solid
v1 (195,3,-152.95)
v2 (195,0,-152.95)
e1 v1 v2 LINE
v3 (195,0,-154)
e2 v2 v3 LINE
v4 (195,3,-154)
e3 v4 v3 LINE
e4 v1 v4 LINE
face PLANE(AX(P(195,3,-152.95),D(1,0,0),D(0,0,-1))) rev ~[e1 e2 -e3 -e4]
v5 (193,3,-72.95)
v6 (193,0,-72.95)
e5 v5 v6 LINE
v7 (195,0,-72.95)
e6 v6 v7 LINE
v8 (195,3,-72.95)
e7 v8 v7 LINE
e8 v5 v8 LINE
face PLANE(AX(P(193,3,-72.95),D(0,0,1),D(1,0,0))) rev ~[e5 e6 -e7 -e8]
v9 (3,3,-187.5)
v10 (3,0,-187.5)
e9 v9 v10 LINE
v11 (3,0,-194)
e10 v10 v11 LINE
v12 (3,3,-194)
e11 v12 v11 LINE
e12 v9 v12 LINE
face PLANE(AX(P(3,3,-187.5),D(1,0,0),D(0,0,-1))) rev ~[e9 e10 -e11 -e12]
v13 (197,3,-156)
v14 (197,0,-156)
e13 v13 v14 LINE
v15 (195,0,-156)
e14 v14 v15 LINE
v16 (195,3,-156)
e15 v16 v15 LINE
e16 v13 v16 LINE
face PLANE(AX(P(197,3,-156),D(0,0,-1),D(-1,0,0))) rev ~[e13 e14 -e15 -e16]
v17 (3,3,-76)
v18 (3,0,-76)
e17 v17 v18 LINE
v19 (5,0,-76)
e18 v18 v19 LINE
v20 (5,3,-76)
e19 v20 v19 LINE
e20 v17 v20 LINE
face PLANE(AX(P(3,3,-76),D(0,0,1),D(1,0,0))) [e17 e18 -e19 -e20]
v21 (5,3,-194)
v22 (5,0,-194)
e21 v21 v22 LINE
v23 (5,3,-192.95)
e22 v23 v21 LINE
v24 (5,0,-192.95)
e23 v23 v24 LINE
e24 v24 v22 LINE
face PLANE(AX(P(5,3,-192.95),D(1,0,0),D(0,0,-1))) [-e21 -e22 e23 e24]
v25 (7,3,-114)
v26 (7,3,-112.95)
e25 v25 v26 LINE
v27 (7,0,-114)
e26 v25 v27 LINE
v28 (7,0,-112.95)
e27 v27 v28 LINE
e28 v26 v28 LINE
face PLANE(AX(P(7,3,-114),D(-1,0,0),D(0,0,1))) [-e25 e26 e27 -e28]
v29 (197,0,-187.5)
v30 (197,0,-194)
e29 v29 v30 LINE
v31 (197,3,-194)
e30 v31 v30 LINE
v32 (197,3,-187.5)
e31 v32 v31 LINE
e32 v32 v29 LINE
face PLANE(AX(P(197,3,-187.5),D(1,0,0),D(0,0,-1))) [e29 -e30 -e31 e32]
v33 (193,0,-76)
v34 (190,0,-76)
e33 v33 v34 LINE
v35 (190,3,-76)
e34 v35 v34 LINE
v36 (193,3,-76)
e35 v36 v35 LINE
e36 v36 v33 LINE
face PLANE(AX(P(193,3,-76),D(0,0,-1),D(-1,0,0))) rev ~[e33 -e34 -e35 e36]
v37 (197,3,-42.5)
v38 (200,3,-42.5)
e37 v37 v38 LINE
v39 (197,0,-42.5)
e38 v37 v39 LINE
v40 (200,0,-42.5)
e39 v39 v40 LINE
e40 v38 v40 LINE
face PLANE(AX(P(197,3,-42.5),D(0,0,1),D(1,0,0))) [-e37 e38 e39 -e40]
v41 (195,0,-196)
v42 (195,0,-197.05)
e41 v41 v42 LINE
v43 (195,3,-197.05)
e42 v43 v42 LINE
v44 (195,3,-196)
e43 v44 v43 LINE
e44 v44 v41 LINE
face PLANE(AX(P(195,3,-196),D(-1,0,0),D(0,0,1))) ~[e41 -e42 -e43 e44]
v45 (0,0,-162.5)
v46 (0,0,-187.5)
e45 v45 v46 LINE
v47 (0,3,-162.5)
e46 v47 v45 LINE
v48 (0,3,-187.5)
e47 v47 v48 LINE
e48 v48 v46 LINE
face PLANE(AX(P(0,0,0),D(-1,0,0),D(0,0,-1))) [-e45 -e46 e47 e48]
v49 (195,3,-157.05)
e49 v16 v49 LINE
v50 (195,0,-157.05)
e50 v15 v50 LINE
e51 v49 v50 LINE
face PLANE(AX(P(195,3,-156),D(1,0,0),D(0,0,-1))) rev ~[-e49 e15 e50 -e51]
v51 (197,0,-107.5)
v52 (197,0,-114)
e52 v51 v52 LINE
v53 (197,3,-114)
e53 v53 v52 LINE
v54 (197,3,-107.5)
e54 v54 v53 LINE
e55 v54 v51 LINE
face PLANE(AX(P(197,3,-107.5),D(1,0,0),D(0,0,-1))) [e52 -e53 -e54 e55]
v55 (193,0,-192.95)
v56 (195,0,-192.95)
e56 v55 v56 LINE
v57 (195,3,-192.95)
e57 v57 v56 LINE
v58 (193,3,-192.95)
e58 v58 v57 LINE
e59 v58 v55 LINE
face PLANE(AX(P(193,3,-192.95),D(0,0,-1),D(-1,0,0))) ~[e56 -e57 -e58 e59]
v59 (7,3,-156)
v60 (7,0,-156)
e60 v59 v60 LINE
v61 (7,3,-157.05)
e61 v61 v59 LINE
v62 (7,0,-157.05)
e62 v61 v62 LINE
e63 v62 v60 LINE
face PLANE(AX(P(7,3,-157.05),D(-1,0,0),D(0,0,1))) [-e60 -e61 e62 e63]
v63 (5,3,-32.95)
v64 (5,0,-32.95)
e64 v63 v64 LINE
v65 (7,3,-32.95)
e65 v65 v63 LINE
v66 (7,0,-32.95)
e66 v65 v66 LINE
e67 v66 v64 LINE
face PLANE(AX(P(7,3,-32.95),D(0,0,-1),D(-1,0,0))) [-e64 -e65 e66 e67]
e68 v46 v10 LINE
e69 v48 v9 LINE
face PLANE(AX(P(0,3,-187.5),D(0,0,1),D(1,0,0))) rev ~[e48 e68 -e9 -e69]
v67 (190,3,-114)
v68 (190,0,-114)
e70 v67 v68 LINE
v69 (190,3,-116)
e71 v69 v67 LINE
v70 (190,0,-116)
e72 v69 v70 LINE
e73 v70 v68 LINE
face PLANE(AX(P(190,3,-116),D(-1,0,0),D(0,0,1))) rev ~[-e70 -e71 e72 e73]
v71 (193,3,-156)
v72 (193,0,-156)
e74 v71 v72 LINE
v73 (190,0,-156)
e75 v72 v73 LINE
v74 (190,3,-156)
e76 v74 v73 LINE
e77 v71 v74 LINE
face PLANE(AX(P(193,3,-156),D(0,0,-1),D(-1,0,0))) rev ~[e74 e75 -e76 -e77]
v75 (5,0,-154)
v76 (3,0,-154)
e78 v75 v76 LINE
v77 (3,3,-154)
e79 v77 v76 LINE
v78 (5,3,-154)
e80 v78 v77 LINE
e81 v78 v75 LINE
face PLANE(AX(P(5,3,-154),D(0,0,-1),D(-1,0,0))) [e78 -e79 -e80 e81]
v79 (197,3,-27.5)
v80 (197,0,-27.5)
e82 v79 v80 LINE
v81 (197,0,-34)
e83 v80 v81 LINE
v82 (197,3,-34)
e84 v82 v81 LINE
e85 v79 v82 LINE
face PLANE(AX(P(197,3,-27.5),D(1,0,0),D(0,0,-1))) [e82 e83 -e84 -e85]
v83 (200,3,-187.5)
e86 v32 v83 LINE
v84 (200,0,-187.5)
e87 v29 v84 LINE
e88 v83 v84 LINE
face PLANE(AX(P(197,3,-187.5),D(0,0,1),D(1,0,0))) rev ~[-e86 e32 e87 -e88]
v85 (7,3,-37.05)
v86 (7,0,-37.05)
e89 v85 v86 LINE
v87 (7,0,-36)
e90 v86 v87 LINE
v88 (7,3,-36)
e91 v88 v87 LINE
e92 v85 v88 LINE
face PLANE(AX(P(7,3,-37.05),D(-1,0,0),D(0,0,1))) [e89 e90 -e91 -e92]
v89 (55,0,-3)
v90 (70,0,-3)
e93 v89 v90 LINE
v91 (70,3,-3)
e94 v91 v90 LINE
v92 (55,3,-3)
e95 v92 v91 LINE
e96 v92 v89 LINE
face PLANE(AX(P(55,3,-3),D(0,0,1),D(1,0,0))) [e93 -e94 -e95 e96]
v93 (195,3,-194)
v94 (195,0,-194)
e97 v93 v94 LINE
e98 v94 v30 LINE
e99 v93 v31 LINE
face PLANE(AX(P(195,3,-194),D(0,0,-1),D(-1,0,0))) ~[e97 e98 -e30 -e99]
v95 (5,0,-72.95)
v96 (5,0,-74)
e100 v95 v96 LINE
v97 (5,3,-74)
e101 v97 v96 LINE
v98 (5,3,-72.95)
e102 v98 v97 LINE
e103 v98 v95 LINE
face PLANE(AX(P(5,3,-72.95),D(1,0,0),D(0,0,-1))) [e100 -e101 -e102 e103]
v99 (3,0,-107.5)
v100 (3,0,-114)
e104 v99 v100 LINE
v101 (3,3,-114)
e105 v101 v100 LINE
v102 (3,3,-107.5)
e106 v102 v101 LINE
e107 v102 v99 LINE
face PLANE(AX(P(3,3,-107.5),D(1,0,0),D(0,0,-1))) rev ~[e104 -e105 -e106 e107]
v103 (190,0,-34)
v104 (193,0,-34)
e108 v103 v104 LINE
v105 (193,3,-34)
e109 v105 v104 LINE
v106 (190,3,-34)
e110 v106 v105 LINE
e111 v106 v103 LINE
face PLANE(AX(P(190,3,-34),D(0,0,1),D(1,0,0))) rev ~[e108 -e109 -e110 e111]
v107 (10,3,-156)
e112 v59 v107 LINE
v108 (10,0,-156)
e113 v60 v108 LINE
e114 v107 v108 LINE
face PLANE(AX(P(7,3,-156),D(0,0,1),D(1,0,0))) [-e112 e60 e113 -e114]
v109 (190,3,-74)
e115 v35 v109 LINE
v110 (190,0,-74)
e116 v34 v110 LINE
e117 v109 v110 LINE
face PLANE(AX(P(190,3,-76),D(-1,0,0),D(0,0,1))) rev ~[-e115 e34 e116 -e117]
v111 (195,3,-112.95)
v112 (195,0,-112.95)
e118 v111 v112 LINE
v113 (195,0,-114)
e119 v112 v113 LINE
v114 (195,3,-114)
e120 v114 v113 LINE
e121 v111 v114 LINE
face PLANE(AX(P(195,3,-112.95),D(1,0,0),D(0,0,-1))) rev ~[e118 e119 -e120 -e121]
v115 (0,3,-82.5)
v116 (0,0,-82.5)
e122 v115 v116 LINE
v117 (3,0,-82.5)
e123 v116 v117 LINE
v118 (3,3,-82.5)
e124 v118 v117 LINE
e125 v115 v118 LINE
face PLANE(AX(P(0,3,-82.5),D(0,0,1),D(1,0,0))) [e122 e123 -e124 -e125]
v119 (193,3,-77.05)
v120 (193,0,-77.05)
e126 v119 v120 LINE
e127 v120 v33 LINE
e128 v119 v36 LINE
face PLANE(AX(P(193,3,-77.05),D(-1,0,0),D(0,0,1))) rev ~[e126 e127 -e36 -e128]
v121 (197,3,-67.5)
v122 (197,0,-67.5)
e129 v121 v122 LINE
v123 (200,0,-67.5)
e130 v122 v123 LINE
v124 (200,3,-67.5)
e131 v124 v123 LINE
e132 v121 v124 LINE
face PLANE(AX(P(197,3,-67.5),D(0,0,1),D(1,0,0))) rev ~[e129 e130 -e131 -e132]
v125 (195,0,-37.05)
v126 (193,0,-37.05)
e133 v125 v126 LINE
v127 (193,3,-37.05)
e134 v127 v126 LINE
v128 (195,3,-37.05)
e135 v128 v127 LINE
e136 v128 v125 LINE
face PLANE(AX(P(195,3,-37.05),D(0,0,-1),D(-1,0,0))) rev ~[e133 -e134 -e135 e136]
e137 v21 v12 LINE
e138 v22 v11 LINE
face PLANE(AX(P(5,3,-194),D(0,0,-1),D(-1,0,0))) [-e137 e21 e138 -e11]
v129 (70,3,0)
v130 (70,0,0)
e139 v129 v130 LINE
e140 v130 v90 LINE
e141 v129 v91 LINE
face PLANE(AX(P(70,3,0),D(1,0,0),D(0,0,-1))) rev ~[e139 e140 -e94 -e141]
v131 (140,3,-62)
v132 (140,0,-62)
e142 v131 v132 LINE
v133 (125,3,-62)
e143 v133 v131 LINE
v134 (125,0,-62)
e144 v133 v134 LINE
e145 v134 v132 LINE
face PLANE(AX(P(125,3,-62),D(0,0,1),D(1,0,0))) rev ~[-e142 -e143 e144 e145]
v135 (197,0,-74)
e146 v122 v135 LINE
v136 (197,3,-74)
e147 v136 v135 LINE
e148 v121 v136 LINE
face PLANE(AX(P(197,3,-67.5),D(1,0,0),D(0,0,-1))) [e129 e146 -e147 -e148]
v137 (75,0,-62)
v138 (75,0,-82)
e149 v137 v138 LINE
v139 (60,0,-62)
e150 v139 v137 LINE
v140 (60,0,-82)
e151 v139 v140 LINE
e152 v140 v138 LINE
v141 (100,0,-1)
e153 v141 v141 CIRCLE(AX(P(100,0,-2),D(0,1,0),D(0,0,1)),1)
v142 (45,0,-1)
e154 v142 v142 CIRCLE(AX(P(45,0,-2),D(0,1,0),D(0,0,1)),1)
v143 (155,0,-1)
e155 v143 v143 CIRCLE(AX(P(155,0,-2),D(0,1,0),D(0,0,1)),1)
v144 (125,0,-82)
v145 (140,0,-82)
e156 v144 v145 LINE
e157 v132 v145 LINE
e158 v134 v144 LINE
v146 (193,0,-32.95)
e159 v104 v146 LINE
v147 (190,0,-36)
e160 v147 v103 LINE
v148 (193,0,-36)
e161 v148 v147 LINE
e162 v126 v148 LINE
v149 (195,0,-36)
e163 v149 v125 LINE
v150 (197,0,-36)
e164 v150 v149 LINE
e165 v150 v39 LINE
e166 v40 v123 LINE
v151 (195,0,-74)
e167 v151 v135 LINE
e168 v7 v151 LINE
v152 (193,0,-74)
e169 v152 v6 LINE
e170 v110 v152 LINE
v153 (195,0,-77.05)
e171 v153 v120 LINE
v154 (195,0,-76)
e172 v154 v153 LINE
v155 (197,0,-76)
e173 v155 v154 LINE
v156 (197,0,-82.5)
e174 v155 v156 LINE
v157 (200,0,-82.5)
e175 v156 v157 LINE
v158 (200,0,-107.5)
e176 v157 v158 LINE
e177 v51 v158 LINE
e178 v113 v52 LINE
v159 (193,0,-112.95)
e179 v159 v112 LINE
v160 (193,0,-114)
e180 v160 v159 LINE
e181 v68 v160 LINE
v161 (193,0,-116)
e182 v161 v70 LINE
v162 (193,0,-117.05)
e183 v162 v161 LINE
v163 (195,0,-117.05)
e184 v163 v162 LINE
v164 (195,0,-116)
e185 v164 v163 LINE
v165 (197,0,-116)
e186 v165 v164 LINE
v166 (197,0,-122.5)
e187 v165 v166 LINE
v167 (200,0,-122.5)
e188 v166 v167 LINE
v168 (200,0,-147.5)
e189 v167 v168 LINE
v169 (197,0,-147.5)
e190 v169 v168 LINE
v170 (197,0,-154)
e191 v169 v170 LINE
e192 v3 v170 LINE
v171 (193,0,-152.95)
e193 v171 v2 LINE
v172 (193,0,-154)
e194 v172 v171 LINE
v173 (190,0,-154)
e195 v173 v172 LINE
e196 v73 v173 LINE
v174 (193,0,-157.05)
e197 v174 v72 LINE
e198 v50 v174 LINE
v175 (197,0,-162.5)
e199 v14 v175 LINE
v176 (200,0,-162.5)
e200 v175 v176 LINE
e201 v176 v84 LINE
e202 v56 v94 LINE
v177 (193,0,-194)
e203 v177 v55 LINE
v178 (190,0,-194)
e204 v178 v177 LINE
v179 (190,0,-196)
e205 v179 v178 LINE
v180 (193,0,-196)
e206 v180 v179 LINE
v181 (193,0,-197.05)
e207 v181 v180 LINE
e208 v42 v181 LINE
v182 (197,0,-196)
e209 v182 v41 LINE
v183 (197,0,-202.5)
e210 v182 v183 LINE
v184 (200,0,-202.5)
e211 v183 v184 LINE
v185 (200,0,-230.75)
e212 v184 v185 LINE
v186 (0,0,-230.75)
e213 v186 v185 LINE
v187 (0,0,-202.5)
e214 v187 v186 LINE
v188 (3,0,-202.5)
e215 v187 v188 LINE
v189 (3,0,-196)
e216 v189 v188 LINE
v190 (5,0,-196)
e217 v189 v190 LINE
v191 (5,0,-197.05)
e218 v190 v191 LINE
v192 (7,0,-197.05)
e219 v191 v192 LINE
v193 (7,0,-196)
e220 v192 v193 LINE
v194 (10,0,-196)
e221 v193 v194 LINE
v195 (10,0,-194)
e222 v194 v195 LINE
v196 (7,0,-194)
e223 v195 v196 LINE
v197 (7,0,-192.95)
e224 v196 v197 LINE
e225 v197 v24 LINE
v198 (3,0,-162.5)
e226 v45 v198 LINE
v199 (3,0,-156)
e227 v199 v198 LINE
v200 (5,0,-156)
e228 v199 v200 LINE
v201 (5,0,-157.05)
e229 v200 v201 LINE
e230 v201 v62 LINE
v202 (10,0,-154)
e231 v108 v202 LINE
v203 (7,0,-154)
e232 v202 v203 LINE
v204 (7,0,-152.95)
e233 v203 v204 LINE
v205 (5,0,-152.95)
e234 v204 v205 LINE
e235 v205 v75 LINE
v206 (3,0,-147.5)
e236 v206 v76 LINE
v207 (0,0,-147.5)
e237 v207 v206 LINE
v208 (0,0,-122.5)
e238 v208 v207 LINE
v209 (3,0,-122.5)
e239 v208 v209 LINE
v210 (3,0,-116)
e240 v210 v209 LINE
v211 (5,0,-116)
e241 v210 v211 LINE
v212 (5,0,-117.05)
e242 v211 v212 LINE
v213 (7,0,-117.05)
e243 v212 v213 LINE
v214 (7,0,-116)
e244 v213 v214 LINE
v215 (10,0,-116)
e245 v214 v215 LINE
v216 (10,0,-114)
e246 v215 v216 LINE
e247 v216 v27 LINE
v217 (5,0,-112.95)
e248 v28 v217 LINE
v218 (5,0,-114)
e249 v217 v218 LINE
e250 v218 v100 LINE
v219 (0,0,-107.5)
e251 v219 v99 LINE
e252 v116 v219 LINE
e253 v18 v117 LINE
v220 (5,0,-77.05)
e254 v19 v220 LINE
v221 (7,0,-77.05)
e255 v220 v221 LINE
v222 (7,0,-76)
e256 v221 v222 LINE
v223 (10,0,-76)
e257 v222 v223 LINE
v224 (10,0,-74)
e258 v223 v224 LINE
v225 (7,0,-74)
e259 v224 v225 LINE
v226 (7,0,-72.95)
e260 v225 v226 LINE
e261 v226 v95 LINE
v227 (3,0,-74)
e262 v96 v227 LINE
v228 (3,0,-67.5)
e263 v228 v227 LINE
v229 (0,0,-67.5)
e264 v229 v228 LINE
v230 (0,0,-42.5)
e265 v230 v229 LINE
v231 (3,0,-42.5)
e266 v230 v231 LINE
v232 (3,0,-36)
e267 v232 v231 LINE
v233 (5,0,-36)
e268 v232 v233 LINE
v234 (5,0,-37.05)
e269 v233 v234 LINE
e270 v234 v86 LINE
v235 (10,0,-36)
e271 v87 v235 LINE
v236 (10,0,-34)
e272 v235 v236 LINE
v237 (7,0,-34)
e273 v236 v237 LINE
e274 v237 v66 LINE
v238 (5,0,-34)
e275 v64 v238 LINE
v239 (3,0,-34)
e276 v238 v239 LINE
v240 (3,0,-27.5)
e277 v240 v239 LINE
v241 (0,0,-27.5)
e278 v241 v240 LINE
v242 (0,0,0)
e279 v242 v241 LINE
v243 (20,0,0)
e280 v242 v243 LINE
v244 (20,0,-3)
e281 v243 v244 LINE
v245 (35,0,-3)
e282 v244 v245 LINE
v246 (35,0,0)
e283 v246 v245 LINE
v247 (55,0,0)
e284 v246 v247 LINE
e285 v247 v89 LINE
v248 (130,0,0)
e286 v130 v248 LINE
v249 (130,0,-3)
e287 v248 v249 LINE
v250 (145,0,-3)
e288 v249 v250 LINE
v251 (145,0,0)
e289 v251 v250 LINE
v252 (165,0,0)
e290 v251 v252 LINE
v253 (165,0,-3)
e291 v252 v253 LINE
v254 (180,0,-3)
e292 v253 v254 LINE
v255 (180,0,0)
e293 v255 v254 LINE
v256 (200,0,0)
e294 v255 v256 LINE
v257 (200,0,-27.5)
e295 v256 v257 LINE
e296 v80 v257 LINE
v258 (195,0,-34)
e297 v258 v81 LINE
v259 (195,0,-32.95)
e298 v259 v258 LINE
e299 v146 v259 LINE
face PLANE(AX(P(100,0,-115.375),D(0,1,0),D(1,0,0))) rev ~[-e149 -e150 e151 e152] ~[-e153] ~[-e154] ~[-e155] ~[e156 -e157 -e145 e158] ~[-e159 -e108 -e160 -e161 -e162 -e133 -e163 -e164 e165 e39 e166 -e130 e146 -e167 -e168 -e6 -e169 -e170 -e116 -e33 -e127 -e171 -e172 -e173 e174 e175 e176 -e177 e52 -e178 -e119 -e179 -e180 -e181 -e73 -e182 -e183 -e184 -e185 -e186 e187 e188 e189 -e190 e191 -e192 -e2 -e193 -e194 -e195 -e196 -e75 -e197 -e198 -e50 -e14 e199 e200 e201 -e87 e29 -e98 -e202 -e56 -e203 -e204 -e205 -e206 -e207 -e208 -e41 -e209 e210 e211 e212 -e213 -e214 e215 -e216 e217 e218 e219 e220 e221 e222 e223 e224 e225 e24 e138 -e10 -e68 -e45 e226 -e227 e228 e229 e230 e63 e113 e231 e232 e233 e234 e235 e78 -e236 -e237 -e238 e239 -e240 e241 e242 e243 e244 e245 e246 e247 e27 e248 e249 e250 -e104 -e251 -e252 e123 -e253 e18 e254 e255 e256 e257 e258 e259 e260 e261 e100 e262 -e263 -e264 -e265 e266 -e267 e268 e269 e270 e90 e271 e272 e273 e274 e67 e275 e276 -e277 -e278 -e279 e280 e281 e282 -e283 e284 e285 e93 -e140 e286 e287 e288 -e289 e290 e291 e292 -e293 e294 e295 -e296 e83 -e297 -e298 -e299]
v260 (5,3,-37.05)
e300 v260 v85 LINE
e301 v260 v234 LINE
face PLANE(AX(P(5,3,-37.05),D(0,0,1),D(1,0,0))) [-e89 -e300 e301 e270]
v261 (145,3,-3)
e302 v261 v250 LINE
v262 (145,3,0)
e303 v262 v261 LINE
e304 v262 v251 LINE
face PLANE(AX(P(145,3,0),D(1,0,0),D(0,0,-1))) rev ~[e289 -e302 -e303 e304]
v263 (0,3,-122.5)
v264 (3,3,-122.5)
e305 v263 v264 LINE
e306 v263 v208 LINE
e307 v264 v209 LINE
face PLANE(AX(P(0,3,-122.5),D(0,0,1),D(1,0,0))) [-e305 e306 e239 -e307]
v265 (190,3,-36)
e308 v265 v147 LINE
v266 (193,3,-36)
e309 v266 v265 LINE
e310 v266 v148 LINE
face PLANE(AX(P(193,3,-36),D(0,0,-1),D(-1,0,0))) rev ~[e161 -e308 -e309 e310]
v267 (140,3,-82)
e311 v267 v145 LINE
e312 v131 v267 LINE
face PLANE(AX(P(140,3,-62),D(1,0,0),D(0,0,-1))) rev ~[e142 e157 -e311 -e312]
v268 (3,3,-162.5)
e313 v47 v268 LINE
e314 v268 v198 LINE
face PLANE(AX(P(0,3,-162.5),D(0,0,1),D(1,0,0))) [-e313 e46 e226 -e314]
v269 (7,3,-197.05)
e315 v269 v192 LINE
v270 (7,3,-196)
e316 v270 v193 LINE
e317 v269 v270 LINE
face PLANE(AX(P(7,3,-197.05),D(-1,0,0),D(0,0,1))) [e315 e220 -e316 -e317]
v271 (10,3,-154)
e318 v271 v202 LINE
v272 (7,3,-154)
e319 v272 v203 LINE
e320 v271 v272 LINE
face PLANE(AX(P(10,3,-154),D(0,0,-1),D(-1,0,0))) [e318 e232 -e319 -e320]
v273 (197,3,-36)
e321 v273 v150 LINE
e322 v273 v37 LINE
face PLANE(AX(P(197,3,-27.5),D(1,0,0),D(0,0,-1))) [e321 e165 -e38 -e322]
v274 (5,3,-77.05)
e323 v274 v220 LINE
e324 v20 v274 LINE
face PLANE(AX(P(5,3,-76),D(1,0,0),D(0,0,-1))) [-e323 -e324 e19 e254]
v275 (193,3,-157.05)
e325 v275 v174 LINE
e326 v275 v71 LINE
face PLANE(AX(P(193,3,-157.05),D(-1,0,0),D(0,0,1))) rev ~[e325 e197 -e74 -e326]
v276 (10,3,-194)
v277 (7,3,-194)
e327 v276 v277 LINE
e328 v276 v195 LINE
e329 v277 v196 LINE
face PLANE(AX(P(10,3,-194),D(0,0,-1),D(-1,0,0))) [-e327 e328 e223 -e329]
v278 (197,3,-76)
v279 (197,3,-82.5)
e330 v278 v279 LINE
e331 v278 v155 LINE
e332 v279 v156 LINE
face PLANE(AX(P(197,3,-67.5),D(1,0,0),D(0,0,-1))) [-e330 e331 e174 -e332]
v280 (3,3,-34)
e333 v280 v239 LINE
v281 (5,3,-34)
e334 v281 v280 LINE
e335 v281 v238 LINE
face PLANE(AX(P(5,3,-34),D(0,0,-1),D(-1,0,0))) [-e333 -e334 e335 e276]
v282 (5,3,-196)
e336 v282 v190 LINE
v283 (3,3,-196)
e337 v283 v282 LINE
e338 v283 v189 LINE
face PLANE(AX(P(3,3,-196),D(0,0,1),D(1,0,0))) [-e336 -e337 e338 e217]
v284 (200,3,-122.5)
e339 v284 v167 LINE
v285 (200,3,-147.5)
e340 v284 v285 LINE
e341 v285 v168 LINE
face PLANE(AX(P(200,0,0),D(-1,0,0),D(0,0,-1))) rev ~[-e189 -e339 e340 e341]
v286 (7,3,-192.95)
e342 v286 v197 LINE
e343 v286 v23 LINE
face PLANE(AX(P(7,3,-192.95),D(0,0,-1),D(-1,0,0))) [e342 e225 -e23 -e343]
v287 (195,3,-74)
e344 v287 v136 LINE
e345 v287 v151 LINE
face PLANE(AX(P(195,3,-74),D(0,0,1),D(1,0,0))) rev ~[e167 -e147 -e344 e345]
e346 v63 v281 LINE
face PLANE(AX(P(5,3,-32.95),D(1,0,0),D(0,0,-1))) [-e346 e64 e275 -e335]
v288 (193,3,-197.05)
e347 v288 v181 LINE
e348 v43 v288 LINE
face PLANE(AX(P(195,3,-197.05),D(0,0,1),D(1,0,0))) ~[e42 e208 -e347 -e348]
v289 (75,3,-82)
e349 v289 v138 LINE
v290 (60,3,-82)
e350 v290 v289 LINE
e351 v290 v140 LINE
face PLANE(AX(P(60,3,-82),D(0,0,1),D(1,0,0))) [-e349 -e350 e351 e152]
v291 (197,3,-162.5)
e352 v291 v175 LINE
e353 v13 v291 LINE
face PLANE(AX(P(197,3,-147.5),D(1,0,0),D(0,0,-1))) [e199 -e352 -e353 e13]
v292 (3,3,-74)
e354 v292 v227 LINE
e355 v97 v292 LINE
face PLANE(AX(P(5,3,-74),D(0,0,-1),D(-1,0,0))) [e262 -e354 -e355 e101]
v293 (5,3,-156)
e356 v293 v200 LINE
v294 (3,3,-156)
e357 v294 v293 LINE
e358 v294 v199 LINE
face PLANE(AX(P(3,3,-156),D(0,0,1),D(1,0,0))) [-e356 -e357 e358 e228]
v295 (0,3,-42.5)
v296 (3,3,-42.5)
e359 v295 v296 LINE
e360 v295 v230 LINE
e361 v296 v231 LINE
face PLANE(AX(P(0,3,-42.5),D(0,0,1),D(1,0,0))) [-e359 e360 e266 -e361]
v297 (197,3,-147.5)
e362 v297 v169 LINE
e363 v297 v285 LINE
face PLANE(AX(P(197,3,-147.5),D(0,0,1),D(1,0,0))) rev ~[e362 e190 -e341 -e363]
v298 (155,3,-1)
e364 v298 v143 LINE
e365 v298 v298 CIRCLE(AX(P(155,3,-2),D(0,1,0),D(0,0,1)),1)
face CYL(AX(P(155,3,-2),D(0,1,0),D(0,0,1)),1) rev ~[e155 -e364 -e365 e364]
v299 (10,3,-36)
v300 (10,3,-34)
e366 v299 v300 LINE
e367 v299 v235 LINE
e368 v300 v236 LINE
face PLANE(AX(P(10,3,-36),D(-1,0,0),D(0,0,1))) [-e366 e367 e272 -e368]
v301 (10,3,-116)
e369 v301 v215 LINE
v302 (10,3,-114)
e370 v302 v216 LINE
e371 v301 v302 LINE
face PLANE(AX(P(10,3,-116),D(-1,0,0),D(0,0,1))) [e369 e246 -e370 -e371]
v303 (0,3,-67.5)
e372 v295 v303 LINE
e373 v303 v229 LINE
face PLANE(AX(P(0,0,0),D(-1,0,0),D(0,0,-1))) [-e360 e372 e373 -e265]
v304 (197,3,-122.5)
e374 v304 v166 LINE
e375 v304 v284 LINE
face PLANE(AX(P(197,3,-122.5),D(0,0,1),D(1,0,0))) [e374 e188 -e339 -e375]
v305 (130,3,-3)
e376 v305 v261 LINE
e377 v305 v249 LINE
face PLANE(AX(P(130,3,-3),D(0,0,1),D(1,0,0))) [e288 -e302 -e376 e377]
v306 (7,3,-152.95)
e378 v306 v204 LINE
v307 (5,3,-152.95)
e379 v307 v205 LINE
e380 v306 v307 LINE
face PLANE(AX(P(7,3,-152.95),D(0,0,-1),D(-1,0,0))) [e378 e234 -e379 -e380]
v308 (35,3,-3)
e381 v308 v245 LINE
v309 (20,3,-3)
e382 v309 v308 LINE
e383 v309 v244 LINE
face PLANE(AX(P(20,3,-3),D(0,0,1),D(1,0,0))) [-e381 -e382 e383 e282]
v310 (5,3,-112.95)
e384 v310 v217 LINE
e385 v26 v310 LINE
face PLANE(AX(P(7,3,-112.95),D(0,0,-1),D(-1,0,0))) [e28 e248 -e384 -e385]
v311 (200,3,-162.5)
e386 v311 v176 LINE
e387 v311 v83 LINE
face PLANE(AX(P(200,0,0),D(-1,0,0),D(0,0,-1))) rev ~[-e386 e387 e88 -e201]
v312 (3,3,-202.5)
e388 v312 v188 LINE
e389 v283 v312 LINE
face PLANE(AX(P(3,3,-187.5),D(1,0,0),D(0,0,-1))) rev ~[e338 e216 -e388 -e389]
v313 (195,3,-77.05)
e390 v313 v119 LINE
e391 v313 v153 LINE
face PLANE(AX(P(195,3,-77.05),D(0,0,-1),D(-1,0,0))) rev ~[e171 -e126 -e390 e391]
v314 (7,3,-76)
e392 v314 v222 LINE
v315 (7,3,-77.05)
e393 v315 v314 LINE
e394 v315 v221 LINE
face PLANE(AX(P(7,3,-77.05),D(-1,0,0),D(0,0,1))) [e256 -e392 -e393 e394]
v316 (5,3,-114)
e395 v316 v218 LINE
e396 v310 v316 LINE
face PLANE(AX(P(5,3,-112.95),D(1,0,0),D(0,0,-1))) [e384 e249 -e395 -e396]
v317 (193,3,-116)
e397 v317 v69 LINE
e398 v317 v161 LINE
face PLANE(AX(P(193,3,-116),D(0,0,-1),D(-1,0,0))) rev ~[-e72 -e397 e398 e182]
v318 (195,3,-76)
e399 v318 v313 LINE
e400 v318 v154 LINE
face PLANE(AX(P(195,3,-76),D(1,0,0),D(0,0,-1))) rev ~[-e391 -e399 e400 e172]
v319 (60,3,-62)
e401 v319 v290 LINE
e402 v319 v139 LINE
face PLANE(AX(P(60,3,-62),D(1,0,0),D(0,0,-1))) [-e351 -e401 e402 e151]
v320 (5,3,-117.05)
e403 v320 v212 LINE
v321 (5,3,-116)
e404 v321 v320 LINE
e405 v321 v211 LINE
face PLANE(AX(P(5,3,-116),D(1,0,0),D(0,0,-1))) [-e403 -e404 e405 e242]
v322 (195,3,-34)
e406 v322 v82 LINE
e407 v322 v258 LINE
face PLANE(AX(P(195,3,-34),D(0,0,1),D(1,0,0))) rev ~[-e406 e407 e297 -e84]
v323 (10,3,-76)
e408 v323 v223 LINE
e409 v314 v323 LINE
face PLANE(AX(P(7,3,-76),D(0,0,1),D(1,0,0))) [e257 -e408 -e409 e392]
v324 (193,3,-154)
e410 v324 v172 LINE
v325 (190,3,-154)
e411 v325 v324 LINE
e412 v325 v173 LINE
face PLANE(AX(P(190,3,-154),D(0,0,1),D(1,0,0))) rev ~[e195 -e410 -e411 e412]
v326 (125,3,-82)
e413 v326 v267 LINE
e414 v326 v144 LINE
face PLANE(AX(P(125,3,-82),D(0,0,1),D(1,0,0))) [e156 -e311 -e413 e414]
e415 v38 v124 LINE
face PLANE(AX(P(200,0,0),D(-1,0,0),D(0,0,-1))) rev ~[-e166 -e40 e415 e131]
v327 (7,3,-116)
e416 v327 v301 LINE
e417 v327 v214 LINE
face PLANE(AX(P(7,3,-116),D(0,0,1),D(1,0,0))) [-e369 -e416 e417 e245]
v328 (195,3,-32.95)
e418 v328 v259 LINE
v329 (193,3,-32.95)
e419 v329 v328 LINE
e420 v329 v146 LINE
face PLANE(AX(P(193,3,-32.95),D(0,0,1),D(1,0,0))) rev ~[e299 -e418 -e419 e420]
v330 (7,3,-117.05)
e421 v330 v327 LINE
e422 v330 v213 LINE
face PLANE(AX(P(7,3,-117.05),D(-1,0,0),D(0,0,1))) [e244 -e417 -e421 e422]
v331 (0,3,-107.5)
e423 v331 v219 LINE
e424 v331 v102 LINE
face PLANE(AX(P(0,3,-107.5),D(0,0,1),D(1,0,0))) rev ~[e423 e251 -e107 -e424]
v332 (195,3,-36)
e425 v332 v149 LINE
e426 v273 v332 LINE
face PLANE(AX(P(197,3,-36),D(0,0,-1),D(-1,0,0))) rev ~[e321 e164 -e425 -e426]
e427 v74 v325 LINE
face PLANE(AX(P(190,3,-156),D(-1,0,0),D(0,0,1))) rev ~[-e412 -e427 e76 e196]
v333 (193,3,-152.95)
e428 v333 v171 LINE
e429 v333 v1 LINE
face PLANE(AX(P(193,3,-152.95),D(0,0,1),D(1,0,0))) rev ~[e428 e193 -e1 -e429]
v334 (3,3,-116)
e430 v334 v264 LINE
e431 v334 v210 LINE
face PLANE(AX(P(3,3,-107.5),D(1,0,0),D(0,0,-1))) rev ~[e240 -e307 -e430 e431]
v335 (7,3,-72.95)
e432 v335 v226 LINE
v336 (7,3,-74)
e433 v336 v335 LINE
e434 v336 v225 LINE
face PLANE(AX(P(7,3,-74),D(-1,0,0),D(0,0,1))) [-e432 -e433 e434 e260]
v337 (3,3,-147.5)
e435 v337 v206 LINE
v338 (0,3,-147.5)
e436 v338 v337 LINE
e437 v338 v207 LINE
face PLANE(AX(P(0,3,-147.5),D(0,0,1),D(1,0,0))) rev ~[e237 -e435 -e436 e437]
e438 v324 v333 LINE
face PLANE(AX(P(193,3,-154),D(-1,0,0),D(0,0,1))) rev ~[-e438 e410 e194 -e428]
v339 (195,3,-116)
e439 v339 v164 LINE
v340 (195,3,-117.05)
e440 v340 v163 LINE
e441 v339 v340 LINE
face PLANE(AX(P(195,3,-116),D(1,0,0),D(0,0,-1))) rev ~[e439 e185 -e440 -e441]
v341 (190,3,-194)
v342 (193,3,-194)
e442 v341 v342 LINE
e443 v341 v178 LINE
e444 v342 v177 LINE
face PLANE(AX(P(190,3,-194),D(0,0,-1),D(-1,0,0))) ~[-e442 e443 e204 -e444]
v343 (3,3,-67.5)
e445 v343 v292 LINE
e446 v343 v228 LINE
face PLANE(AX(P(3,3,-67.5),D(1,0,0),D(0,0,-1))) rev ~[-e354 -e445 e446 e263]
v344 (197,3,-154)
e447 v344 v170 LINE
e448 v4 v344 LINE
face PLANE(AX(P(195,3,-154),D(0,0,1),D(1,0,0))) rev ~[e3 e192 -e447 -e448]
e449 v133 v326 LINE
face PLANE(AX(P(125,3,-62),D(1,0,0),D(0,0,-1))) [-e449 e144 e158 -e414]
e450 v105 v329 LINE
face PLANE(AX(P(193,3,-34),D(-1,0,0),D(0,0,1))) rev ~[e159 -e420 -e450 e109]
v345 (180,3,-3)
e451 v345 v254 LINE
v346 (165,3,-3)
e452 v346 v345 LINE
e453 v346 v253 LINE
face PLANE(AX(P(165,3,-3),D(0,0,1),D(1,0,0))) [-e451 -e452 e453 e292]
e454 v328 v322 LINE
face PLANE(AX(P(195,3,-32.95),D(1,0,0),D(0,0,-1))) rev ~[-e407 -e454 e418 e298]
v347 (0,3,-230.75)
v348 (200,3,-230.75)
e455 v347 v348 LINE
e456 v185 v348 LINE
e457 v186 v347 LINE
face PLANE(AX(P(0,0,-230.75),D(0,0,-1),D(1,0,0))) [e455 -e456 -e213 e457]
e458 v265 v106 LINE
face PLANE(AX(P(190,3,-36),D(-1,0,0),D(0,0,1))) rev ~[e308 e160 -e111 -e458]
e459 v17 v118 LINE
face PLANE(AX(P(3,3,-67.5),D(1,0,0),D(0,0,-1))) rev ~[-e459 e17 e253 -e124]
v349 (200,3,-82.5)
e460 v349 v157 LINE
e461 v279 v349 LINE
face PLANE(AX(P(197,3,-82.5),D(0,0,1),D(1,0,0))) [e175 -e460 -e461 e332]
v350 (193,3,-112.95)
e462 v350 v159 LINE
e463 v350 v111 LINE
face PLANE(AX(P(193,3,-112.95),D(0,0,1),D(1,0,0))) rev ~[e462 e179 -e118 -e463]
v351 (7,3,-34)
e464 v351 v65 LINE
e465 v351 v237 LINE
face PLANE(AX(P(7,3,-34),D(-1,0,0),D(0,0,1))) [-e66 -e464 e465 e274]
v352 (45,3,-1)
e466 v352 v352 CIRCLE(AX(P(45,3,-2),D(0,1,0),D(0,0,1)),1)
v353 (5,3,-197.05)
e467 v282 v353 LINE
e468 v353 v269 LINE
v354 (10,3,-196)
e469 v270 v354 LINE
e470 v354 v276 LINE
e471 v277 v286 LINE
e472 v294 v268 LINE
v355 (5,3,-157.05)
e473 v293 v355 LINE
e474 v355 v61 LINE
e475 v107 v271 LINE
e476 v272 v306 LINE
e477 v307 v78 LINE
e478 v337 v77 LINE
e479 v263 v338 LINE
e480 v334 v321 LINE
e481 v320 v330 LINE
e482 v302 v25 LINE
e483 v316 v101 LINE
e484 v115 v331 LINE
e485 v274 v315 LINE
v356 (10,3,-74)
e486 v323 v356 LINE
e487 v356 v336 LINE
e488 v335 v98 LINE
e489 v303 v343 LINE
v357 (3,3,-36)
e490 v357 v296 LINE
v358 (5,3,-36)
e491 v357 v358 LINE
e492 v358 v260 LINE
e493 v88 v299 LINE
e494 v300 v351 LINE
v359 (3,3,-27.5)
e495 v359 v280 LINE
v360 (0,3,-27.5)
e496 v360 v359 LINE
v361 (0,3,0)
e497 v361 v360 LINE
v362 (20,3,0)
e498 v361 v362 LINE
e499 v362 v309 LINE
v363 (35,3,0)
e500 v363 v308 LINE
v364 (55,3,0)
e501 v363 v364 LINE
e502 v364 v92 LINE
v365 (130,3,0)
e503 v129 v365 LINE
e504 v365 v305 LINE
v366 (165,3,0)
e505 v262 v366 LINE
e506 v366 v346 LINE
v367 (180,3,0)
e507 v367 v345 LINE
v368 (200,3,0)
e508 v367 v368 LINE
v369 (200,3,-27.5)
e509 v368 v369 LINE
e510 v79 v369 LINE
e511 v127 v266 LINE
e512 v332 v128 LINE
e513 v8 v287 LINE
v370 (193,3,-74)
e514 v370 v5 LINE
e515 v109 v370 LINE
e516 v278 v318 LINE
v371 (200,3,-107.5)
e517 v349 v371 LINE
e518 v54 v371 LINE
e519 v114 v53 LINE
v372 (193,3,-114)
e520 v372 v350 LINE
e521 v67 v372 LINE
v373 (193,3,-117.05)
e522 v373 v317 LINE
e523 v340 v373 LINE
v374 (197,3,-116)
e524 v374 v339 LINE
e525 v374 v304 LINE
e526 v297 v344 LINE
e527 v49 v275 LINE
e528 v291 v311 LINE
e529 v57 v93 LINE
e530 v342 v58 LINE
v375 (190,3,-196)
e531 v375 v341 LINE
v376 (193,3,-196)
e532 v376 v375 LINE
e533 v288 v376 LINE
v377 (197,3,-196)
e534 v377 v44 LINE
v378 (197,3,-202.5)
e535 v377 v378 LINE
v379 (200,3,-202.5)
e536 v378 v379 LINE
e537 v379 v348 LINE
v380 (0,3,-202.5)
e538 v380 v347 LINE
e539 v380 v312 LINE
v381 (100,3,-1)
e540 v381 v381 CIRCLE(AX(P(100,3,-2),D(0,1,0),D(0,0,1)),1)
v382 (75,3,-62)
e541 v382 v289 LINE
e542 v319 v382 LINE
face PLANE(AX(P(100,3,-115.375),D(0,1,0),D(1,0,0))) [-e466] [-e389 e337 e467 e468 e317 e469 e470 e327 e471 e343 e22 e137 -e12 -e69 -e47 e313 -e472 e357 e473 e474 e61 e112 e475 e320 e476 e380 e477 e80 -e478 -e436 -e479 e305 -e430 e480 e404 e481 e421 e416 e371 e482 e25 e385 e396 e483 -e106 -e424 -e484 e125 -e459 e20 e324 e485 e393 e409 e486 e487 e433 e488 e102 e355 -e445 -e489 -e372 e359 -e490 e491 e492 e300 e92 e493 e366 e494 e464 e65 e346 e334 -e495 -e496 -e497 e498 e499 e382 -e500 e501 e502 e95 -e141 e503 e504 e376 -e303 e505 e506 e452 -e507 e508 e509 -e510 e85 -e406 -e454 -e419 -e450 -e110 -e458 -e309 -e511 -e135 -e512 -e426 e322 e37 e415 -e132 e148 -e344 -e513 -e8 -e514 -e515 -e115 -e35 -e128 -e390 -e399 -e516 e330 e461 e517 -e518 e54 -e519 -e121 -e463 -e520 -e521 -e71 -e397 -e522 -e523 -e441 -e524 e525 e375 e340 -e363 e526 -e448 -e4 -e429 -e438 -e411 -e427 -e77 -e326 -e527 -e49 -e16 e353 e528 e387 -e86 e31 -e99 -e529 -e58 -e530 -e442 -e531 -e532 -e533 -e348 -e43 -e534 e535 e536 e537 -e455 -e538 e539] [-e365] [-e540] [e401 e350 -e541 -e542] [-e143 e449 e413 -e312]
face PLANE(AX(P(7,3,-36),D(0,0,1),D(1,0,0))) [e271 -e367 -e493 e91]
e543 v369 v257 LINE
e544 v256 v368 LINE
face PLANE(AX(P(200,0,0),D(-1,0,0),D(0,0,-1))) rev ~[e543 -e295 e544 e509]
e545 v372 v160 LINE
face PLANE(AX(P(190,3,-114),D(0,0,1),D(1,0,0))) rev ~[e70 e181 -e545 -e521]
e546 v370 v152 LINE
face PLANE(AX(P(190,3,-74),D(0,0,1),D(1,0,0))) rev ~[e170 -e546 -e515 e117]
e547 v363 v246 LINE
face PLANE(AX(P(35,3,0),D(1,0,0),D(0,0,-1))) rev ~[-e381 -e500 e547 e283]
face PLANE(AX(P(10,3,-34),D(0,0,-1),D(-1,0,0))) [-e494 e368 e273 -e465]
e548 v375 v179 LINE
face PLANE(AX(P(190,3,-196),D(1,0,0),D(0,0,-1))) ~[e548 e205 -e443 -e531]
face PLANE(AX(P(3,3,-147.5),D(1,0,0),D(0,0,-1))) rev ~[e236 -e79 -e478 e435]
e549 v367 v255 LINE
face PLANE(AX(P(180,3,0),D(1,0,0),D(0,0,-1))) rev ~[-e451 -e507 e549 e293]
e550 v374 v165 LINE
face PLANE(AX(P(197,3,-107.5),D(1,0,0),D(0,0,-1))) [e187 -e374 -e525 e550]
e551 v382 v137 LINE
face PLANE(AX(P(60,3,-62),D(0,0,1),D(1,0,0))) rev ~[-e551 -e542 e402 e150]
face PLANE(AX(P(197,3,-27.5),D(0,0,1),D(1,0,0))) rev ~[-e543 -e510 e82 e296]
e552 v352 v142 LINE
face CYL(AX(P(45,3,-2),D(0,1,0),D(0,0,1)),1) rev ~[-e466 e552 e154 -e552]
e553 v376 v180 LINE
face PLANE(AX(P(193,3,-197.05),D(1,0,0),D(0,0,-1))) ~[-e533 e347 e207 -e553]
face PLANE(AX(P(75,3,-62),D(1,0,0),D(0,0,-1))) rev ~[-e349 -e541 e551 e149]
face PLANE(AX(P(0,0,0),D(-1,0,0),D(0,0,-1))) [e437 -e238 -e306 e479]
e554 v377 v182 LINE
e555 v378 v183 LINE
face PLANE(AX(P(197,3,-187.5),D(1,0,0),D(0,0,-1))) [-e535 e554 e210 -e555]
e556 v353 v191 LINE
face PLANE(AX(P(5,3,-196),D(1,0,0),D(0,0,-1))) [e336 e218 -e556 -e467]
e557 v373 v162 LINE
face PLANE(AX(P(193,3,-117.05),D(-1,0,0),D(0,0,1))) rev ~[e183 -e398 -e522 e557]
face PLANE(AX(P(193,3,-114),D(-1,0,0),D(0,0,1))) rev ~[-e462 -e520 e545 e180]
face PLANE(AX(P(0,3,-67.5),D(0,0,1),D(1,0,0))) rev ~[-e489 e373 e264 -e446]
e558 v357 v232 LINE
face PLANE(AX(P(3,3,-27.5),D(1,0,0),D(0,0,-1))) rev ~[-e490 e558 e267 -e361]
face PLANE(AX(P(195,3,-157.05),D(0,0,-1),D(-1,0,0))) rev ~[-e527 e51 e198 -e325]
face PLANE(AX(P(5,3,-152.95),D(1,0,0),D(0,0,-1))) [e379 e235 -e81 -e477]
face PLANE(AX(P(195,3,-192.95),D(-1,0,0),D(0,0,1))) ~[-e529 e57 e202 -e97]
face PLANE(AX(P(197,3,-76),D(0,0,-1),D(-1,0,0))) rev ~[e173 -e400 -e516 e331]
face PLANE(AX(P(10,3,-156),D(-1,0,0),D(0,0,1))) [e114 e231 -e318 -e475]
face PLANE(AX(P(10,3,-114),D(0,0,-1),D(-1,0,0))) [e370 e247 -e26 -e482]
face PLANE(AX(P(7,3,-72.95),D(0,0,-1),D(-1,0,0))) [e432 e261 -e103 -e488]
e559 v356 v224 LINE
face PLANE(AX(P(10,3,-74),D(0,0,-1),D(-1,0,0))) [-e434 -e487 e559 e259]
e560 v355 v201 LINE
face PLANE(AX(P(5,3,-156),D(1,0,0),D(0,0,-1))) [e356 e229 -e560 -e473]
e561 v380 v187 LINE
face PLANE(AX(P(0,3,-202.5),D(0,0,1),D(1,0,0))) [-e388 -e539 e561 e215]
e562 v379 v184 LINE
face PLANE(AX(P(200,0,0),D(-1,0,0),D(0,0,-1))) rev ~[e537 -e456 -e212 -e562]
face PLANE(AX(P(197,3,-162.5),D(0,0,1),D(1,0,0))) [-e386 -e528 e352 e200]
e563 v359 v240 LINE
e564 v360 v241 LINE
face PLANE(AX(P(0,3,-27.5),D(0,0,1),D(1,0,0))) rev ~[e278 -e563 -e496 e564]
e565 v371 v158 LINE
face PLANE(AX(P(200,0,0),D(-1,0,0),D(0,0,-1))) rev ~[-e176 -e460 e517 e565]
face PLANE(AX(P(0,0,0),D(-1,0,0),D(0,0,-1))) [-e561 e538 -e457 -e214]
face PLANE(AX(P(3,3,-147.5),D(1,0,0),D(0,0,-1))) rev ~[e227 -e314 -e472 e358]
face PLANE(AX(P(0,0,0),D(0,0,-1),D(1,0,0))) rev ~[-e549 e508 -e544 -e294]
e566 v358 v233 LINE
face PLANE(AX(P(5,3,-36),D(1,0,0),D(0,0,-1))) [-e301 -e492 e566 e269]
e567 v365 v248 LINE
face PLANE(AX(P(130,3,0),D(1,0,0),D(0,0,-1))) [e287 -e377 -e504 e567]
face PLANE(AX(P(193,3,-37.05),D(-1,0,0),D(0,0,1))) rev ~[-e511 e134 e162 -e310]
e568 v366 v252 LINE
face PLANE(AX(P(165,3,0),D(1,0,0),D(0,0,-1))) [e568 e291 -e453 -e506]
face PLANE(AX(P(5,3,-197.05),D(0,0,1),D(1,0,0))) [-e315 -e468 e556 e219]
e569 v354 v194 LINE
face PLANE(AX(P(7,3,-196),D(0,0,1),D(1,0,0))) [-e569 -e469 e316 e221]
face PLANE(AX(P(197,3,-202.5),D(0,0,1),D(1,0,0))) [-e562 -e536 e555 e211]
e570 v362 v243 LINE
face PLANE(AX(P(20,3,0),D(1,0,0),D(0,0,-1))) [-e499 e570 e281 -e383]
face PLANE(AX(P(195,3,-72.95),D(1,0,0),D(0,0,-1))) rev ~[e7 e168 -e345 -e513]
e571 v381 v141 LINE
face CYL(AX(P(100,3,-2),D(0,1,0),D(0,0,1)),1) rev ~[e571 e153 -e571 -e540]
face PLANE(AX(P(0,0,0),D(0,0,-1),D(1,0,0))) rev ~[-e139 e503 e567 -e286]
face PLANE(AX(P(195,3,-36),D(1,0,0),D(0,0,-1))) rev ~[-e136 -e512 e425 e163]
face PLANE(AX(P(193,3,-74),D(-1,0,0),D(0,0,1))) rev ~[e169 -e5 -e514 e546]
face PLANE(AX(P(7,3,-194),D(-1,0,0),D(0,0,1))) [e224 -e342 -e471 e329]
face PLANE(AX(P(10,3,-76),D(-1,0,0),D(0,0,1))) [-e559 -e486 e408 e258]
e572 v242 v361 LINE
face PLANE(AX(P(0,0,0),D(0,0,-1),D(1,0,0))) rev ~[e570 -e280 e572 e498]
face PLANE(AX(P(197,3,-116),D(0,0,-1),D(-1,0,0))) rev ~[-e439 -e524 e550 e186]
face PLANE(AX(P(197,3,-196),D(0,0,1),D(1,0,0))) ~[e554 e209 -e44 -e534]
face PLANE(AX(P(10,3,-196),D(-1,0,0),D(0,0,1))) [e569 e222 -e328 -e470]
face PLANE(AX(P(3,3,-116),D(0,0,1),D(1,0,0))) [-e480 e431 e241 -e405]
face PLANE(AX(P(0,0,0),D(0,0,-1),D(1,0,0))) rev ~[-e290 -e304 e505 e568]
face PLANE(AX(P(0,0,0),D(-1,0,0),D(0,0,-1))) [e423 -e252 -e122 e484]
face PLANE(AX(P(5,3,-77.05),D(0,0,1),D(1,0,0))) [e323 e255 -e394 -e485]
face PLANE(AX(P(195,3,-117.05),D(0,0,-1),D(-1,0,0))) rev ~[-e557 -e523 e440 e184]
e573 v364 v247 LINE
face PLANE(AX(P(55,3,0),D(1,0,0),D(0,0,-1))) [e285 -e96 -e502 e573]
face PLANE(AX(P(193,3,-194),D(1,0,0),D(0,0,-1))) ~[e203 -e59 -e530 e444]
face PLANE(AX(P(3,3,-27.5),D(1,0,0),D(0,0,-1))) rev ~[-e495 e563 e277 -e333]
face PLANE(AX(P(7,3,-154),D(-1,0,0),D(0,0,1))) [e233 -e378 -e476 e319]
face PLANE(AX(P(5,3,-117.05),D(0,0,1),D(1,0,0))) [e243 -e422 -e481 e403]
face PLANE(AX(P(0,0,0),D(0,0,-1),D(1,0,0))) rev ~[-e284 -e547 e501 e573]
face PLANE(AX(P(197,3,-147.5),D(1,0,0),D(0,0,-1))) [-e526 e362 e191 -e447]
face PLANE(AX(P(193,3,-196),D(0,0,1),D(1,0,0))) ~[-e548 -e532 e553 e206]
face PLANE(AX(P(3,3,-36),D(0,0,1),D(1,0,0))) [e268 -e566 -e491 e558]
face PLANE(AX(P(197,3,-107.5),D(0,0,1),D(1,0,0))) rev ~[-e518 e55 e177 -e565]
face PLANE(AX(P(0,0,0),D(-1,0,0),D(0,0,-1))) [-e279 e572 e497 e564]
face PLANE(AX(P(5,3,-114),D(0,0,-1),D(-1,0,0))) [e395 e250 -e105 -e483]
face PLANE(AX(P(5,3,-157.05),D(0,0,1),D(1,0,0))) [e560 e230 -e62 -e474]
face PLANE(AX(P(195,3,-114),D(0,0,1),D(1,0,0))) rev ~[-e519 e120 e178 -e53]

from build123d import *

# Parameters (mm, degrees)
SKETCH_1_W             = 200
SKETCH_1_H             = 230.75
EXTRUDE_1_DEPTH        = 3
SKETCH_2_W             = 3
SKETCH_2_H             = 15
CUT_EXTRUDE_1_DEPTH    = 306.37610008
PATTERN_LINEAR_1_COUNT = 5
PATTERN_LINEAR_1_PITCH = 40
SKETCH_3_W             = 15
SKETCH_3_H             = 3
CUT_EXTRUDE_2_DEPTH    = 306.37610008
SKETCH_4_R             = 1
CUT_EXTRUDE_3_DEPTH    = 306.37610008
CUT_EXTRUDE_4_DEPTH    = 306.37610008
PATTERN_LINEAR_2_COUNT = 5
PATTERN_LINEAR_2_PITCH = 40
MIRROR_1_COPY_1_DEPTH  = 306.37610008
MIRROR_1_COPY_2_DEPTH  = 306.37610008
MIRROR_1_COPY_3_DEPTH  = 306.37610008
MIRROR_1_COPY_4_DEPTH  = 306.37610008
SKETCH_6_W             = 15
SKETCH_6_H             = 20
CUT_EXTRUDE_5_DEPTH    = 306.37610008


with BuildPart() as part:
    # 草图1 → 凸台-拉伸1 (new body)
    with BuildSketch(Plane(origin=(0, 0, 0), x_dir=(1, 0, 0), z_dir=(0, 1, 0))):
        with Locations((100, 115.375)):
            Rectangle(SKETCH_1_W, SKETCH_1_H)
    extrude(amount=EXTRUDE_1_DEPTH)

    # 草图2 → 切除-拉伸1 (cut, through all)
    with BuildSketch(Plane(origin=(0, 3, 0), x_dir=(1, 0, 0), z_dir=(0, 1, 0))):
        with Locations((1.5, 195)):
            Rectangle(SKETCH_2_W, SKETCH_2_H)
        with Locations((198.5, 195)):
            Rectangle(SKETCH_2_W, SKETCH_2_H)
    cut_extrude_1 = extrude(amount=-CUT_EXTRUDE_1_DEPTH, mode=Mode.SUBTRACT)

    # 阵列(线性)1: 切除-拉伸1 ×5
    with Locations(*[(0, 0, i * PATTERN_LINEAR_1_PITCH) for i in range(1, PATTERN_LINEAR_1_COUNT)]):
        add(cut_extrude_1, mode=Mode.SUBTRACT)

    # 草图3 → 切除-拉伸2 (cut, through all)
    with BuildSketch(Plane(origin=(0, 3, 0), x_dir=(1, 0, 0), z_dir=(0, 1, 0))):
        with Locations((27.5, 1.5)):
            Rectangle(SKETCH_3_W, SKETCH_3_H)
        with Locations((62.5, 1.5)):
            Rectangle(SKETCH_3_W, SKETCH_3_H)
        with Locations((137.5, 1.5)):
            Rectangle(SKETCH_3_W, SKETCH_3_H)
        with Locations((172.5, 1.5)):
            Rectangle(SKETCH_3_W, SKETCH_3_H)
    extrude(amount=-CUT_EXTRUDE_2_DEPTH, mode=Mode.SUBTRACT)

    # 草图4 → 切除-拉伸3 (cut, through all)
    with BuildSketch(Plane(origin=(0, 3, 0), x_dir=(1, 0, 0), z_dir=(0, 1, 0))):
        with Locations(Location((100, 2, 0), (0, 0, 270))):
            Circle(SKETCH_4_R)
        with Locations(Location((45, 2, 0), (0, 0, 270))):
            Circle(SKETCH_4_R)
        with Locations(Location((155, 2, 0), (0, 0, 270))):
            Circle(SKETCH_4_R)
    extrude(amount=-CUT_EXTRUDE_3_DEPTH, mode=Mode.SUBTRACT)

    # 草图5 → 切除-拉伸4 (cut, through all)
    with BuildSketch(Plane(origin=(0, 3, 0), x_dir=(1, 0, 0), z_dir=(0, 1, 0))):
        Polygon((5, 197.05), (7, 197.05), (7, 196), (10, 196), (10, 194), (7, 194), (7, 192.95), (5, 192.95), (5, 194), (3, 194), (3, 196), (5, 196), align=None)
    cut_extrude_4 = extrude(amount=-CUT_EXTRUDE_4_DEPTH, mode=Mode.SUBTRACT)

    # 阵列(线性)2: 切除-拉伸4 ×5
    with Locations(*[(0, 0, i * PATTERN_LINEAR_2_PITCH) for i in range(1, PATTERN_LINEAR_2_COUNT)]):
        add(cut_extrude_4, mode=Mode.SUBTRACT)

    # 镜向1: 切除-拉伸4 across plane
    add(cut_extrude_4.mirror(Plane.ZY.offset(-100)), mode=Mode.SUBTRACT)

    # 镜向1 copy 1 sketch → 镜向1 copy 1 (cut, through all)
    with BuildSketch(Plane(origin=(200, 3, 40), x_dir=(-1, 0, 0), z_dir=(0, 1, 0))):
        Polygon((5, -197.05), (7, -197.05), (7, -196), (10, -196), (10, -194), (7, -194), (7, -192.95), (5, -192.95), (5, -194), (3, -194), (3, -196), (5, -196), align=None)
    extrude(amount=-MIRROR_1_COPY_1_DEPTH, mode=Mode.SUBTRACT)

    # 镜向1 copy 2 sketch → 镜向1 copy 2 (cut, through all)
    with BuildSketch(Plane(origin=(200, 3, 80), x_dir=(-1, 0, 0), z_dir=(0, 1, 0))):
        Polygon((5, -197.05), (7, -197.05), (7, -196), (10, -196), (10, -194), (7, -194), (7, -192.95), (5, -192.95), (5, -194), (3, -194), (3, -196), (5, -196), align=None)
    extrude(amount=-MIRROR_1_COPY_2_DEPTH, mode=Mode.SUBTRACT)

    # 镜向1 copy 3 sketch → 镜向1 copy 3 (cut, through all)
    with BuildSketch(Plane(origin=(200, 3, 120), x_dir=(-1, 0, 0), z_dir=(0, 1, 0))):
        Polygon((5, -197.05), (7, -197.05), (7, -196), (10, -196), (10, -194), (7, -194), (7, -192.95), (5, -192.95), (5, -194), (3, -194), (3, -196), (5, -196), align=None)
    extrude(amount=-MIRROR_1_COPY_3_DEPTH, mode=Mode.SUBTRACT)

    # 镜向1 copy 4 sketch → 镜向1 copy 4 (cut, through all)
    with BuildSketch(Plane(origin=(200, 3, 160), x_dir=(-1, 0, 0), z_dir=(0, 1, 0))):
        Polygon((5, -197.05), (7, -197.05), (7, -196), (10, -196), (10, -194), (7, -194), (7, -192.95), (5, -192.95), (5, -194), (3, -194), (3, -196), (5, -196), align=None)
    extrude(amount=-MIRROR_1_COPY_4_DEPTH, mode=Mode.SUBTRACT)

    # 草图6 → 切除-拉伸5 (cut, through all)
    with BuildSketch(Plane(origin=(0, 3, 0), x_dir=(1, 0, 0), z_dir=(0, 1, 0))):
        with Locations((67.5, 72)):
            Rectangle(SKETCH_6_W, SKETCH_6_H)
        with Locations((132.5, 72)):
            Rectangle(SKETCH_6_W, SKETCH_6_H)
    extrude(amount=-CUT_EXTRUDE_5_DEPTH, mode=Mode.SUBTRACT)


solid = part.part
